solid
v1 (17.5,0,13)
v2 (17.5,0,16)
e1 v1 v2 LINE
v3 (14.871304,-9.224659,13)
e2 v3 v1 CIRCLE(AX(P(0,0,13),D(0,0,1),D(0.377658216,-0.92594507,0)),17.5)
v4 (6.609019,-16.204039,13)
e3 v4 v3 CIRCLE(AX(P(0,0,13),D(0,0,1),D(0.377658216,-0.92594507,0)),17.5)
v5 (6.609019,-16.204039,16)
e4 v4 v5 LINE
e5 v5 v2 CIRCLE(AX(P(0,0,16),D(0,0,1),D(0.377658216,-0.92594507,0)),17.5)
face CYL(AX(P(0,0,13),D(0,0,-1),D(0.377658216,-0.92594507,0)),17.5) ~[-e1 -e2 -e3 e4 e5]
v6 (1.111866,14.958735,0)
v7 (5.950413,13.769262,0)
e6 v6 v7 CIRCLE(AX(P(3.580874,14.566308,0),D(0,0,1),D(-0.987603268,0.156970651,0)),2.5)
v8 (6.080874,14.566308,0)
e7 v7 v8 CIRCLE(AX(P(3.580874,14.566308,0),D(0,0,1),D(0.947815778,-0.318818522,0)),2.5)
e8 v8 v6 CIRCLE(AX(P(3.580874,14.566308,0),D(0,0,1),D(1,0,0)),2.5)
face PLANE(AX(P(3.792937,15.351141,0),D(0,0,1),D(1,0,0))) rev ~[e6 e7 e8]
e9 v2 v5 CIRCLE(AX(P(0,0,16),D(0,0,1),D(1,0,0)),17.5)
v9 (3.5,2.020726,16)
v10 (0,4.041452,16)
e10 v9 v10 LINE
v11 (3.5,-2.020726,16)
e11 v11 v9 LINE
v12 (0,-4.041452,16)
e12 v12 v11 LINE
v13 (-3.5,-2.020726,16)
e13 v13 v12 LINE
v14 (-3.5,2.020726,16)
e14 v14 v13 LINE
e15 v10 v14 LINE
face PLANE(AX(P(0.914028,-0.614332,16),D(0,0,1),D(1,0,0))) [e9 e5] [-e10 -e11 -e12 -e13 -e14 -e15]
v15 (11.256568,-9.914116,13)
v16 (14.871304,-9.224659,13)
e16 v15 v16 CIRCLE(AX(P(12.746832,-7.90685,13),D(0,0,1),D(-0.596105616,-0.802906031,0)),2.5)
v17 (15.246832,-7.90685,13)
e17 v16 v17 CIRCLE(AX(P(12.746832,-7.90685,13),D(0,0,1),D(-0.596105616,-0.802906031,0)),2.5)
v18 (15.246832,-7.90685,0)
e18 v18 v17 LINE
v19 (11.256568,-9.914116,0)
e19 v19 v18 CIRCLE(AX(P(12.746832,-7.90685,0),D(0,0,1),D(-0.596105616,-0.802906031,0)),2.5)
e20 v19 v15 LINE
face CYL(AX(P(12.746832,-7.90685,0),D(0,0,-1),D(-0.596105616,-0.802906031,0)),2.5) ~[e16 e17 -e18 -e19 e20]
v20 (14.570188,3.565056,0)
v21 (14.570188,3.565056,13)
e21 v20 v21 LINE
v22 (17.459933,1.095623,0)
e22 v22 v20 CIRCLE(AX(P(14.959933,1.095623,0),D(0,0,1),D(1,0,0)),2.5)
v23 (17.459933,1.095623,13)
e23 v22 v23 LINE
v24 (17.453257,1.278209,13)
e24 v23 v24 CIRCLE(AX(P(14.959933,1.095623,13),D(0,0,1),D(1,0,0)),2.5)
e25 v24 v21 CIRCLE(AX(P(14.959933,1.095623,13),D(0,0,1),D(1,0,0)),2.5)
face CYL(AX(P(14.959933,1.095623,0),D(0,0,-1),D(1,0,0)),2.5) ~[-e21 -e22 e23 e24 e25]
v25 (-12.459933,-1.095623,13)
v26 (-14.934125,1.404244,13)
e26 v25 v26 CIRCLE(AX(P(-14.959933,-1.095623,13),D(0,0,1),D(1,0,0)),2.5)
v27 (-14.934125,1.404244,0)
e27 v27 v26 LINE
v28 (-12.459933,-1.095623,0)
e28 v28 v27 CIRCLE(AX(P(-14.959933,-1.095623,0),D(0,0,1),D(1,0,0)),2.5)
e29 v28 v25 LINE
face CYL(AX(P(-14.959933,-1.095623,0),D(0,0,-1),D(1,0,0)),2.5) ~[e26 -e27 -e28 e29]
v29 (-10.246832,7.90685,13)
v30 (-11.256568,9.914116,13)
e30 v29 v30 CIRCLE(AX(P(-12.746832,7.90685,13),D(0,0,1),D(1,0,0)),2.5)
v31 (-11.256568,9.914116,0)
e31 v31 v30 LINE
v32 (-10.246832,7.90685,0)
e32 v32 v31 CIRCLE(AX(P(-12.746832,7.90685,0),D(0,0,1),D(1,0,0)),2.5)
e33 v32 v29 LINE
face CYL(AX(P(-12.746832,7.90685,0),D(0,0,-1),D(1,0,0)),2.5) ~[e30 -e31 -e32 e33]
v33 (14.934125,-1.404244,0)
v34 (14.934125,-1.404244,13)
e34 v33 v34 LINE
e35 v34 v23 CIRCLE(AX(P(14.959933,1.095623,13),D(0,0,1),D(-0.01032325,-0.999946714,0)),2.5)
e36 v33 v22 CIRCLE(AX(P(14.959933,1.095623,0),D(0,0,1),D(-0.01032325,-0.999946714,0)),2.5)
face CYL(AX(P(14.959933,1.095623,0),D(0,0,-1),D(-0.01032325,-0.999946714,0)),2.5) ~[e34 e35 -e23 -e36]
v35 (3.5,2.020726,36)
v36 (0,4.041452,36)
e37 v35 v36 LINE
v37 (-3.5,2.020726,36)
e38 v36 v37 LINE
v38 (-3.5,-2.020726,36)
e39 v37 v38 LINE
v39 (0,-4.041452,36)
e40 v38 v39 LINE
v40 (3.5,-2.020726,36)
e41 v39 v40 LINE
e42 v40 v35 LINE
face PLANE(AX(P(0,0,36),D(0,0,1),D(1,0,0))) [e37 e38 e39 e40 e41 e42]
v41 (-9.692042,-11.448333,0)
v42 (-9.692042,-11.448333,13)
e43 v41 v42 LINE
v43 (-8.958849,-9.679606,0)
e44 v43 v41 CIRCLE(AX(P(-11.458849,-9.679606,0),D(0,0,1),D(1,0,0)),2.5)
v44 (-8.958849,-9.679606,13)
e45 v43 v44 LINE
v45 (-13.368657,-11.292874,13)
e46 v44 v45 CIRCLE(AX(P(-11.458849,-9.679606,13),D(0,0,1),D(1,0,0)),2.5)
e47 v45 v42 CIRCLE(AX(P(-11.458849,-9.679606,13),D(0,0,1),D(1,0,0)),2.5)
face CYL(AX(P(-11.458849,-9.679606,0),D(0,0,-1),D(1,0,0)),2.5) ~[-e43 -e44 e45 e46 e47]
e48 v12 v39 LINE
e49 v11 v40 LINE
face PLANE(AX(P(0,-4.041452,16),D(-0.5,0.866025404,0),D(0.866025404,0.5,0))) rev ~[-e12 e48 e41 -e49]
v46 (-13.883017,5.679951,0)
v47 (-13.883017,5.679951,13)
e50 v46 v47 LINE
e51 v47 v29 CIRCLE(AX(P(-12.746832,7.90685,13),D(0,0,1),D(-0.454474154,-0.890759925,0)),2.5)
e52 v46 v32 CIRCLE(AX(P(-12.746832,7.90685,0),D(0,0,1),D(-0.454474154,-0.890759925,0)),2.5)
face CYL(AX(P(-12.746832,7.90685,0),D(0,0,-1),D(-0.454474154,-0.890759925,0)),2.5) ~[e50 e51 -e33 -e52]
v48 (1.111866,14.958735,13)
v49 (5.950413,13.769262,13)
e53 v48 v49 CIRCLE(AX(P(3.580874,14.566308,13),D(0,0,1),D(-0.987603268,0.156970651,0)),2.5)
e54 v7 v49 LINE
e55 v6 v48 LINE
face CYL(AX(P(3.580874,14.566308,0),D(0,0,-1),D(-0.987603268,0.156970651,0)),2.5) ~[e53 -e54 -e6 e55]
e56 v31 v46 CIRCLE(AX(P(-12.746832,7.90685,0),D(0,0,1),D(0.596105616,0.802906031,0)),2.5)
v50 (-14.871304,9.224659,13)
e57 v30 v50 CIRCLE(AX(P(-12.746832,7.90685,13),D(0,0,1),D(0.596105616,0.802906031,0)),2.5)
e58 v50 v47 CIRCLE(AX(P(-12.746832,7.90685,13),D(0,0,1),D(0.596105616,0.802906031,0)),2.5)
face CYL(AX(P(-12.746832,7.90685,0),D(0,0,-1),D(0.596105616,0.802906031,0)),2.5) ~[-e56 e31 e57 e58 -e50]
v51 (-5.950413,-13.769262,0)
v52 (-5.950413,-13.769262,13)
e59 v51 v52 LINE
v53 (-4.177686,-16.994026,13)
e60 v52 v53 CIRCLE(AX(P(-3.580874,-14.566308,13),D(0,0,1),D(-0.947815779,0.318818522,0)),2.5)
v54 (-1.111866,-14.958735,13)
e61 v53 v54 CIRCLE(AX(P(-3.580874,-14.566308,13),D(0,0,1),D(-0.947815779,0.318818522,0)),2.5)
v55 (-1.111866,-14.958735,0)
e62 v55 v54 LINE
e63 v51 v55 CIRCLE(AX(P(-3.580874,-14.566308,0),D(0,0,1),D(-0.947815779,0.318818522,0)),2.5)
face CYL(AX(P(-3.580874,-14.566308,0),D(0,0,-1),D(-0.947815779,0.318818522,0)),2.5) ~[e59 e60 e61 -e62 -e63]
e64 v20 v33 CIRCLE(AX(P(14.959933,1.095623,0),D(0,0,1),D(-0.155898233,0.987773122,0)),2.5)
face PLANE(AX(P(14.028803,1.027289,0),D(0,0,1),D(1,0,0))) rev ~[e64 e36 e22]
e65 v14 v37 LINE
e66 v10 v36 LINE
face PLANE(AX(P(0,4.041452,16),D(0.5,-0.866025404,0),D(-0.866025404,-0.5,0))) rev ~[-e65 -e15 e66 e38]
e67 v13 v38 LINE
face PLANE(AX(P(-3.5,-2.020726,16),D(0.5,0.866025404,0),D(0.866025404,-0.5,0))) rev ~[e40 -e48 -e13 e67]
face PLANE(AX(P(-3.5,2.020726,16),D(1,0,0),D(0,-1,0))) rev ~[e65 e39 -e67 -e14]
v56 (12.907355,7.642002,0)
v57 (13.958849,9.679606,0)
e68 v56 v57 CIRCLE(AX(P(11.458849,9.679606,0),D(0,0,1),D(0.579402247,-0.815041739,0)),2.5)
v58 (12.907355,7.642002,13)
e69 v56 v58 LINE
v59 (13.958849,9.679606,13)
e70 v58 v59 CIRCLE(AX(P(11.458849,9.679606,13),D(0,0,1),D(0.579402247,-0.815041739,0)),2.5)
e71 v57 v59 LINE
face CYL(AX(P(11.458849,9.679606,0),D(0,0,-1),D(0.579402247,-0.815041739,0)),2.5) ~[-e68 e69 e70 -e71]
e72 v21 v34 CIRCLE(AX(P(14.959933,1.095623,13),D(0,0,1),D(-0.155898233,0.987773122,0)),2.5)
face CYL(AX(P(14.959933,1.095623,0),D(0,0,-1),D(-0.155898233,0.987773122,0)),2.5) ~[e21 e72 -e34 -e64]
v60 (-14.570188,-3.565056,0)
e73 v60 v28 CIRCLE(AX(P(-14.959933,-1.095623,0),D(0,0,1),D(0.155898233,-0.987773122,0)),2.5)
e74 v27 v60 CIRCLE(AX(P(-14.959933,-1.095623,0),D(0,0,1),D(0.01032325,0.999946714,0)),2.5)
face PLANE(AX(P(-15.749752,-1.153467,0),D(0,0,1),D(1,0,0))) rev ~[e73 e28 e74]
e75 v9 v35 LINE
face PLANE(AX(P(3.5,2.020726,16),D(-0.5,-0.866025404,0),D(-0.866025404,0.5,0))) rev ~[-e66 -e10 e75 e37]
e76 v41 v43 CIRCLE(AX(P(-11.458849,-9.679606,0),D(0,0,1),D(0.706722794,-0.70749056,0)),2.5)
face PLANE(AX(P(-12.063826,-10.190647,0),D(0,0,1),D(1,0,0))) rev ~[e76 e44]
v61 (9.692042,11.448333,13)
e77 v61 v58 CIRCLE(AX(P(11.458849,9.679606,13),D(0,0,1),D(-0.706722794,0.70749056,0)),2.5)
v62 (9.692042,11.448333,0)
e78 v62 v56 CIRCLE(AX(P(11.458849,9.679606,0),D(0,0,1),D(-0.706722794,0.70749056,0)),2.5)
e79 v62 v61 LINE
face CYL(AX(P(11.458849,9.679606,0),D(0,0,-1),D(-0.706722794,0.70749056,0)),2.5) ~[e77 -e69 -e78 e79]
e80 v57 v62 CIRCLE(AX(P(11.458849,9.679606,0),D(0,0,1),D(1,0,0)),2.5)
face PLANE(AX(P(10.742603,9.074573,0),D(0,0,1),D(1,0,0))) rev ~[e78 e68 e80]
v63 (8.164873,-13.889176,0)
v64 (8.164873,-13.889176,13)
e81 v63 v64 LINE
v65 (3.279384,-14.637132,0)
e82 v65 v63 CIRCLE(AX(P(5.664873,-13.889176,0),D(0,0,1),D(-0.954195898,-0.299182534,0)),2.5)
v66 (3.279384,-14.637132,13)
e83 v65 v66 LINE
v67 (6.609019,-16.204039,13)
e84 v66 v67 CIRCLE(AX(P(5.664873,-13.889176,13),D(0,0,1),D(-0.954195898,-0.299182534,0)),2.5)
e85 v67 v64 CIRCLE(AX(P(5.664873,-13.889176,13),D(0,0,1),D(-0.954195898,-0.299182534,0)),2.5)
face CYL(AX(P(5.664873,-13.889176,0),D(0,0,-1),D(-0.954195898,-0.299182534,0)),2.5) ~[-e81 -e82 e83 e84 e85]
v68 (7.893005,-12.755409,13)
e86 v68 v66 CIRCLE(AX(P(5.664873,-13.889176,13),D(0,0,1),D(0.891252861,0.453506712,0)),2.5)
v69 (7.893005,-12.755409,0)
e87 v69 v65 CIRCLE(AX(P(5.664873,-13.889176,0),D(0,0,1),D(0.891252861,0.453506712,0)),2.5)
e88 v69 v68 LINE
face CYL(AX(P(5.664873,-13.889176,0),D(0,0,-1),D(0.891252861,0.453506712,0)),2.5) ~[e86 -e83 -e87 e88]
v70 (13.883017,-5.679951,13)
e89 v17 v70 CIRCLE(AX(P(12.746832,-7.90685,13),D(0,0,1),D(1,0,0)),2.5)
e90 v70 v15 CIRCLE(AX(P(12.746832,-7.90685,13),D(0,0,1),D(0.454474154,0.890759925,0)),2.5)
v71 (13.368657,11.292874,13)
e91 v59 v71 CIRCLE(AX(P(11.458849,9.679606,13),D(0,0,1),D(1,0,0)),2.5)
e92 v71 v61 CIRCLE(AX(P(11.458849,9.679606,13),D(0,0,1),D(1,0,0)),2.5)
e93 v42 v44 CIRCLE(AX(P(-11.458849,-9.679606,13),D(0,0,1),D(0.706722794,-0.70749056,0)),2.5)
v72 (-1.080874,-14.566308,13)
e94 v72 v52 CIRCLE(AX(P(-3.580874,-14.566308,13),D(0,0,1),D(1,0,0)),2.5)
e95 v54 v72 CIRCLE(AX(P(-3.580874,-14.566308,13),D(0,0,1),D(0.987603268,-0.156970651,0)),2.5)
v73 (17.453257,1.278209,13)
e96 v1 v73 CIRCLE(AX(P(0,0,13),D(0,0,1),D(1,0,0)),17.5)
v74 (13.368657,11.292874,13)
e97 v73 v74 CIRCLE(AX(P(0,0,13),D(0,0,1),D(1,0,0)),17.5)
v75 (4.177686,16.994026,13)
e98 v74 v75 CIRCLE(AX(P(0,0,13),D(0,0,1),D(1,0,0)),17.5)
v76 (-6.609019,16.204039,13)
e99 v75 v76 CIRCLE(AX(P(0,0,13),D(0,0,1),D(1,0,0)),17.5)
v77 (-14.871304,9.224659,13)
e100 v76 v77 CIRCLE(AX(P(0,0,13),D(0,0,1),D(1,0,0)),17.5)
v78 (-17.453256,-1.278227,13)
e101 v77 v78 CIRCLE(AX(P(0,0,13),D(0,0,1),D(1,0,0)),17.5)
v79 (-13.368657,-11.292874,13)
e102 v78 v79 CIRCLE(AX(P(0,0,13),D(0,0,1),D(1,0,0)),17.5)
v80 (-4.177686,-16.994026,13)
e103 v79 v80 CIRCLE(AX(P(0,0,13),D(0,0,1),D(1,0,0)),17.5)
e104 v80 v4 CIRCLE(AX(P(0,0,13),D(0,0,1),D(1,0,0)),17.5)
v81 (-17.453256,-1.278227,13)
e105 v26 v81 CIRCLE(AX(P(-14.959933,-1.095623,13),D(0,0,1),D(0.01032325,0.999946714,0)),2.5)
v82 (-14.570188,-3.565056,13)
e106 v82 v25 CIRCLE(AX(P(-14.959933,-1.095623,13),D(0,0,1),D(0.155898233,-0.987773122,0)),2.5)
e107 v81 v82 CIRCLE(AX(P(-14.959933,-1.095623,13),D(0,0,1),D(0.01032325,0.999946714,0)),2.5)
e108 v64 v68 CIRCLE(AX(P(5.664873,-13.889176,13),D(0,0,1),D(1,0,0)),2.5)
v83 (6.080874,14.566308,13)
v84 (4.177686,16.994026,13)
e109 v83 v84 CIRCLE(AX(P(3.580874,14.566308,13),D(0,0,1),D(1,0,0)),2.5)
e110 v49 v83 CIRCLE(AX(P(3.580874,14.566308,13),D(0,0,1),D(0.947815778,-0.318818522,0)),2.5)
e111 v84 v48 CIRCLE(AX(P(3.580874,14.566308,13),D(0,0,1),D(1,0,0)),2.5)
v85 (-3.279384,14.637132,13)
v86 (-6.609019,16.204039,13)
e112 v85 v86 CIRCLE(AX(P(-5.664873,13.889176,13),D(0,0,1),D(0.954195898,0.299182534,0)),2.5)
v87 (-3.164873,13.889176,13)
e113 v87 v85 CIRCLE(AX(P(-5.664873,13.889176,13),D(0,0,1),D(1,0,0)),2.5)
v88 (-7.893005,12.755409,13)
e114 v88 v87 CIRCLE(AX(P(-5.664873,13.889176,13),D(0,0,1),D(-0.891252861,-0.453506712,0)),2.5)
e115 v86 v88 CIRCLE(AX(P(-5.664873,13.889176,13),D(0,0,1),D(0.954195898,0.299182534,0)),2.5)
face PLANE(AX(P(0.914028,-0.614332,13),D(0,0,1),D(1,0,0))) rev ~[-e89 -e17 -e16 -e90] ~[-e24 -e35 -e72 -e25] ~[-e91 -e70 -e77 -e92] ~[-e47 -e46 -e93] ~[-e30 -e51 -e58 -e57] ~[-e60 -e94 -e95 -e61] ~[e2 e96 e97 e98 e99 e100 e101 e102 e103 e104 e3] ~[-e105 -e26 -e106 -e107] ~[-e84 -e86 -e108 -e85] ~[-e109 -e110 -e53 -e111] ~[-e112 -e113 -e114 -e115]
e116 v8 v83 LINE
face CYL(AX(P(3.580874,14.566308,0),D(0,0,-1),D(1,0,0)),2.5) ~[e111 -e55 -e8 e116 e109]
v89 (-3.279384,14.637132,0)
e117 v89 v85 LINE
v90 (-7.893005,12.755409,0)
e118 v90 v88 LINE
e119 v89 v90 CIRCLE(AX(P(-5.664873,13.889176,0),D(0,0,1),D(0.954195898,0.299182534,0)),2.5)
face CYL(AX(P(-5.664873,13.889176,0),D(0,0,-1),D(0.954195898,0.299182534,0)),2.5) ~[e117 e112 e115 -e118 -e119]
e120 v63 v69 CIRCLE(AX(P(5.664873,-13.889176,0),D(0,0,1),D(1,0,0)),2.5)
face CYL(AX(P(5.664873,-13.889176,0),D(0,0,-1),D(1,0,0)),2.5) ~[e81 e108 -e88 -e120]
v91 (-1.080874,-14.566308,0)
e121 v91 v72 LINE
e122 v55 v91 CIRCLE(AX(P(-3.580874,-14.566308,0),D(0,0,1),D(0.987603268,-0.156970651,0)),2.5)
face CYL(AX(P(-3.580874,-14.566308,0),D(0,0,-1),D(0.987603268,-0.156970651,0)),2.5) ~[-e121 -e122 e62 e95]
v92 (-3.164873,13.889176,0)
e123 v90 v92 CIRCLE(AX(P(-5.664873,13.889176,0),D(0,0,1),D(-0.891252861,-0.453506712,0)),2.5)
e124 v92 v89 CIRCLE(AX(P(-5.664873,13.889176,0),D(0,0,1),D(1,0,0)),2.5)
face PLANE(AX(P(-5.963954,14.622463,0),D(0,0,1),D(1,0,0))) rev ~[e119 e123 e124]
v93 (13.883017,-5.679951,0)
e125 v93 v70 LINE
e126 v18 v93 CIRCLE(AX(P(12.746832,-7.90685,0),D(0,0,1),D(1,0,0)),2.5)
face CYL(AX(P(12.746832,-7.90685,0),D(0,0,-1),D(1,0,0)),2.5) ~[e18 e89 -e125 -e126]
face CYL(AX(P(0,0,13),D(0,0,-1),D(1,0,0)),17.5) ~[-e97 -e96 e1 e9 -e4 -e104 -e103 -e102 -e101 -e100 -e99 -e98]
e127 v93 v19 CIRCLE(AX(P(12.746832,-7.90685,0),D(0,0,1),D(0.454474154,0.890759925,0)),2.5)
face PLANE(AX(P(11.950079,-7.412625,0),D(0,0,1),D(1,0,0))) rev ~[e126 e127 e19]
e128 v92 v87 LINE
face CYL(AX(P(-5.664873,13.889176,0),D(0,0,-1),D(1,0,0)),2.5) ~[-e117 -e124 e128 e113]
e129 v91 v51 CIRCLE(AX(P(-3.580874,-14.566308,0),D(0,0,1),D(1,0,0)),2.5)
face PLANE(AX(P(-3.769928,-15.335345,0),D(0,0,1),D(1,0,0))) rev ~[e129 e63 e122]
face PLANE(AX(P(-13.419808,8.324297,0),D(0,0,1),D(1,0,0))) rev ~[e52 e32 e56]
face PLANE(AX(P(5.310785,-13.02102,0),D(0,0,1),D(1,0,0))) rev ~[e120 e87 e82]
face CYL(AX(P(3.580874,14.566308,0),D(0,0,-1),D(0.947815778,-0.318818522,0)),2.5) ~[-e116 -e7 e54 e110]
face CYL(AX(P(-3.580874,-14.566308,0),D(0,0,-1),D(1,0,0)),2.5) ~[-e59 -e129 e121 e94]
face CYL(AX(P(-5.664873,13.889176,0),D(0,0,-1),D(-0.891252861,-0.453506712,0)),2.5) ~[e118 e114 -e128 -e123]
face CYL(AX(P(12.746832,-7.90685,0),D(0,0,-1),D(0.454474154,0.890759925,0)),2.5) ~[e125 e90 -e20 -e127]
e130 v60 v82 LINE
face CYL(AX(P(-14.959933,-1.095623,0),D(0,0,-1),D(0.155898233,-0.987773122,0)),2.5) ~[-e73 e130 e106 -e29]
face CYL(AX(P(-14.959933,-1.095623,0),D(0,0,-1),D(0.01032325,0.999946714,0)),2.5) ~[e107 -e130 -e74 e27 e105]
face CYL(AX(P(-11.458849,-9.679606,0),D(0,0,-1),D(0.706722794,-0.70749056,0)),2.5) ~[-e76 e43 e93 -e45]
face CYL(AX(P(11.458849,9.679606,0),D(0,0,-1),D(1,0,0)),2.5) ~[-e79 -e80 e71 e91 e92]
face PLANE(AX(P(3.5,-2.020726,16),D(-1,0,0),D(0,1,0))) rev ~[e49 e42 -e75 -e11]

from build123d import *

# Parameters (mm, degrees)
F1_DEPTH = 13
F3_DEPTH = 3
F5_DEPTH = 20


with BuildPart() as f1:
    # F0 (on Top) → F1 (new body)
    with BuildSketch(Plane.XY):
        with BuildLine():
            ThreePointArc((-7.8930054645, 12.7554092344), (-5.664873312, 13.8891760144), (-3.2793835676, 14.6371323495))
            ThreePointArc((-3.2793835676, 14.6371323495), (-6.609018864, 16.2040386834), (-7.8930054645, 12.7554092344))
        make_face()
        with BuildLine():
            ThreePointArc((-3.164873312, 13.8891760144), (-3.1936666876, 14.2675116054), (-3.2793835676, 14.6371323495))
            ThreePointArc((-3.2793835676, 14.6371323495), (-5.664873312, 13.8891760144), (-7.8930054645, 12.7554092344))
            ThreePointArc((-7.8930054645, 12.7554092344), (-5.0819197895, 11.4580928832), (-3.164873312, 13.8891760144))
        make_face()
    extrude(amount=F1_DEPTH)



with BuildPart() as f1b:
    # F0 (on Top) → F1, piece 2 (new body)
    with BuildSketch(Plane.XY):
        with BuildLine():
            ThreePointArc((1.1118658775, 14.9587350491), (3.5808740473, 14.5663084224), (5.9504134936, 13.7692621173))
            ThreePointArc((5.9504134936, 13.7692621173), (6.0480433378, 14.1624821081), (6.0808740473, 14.5663084224))
            ThreePointArc((6.0808740473, 14.5663084224), (3.7776983033, 17.0585484214), (1.1118658775, 14.9587350491))
        make_face()
        with BuildLine():
            ThreePointArc((1.1118658775, 14.9587350491), (2.9840617061, 12.138590352), (5.9504134936, 13.7692621173))
            ThreePointArc((5.9504134936, 13.7692621173), (3.5808740473, 14.5663084224), (1.1118658775, 14.9587350491))
        make_face()
    extrude(amount=F1_DEPTH)


with BuildPart() as f1c:
    # F0 (on Top) → F1, piece 3 (new body)
    with BuildSketch(Plane.XY):
        with BuildLine():
            ThreePointArc((9.6920422452, 11.4483325038), (9.549041025, 8.0663384198), (12.9073548474, 7.6420017563))
            ThreePointArc((12.9073548474, 7.6420017563), (11.45884923, 9.6796061037), (9.6920422452, 11.4483325038))
        make_face()
        with BuildLine():
            ThreePointArc((9.6920422452, 11.4483325038), (11.45884923, 9.6796061037), (12.9073548474, 7.6420017563))
            ThreePointArc((12.9073548474, 7.6420017563), (13.6804774667, 8.5331472173), (13.95884923, 9.6796061037))
            ThreePointArc((13.95884923, 9.6796061037), (12.416184735, 11.9890451549), (9.6920422452, 11.4483325038))
        make_face()
    extrude(amount=F1_DEPTH)


with BuildPart() as f1d:
    # F0 (on Top) → F1, piece 4 (new body)
    with BuildSketch(Plane.XY):
        with BuildLine():
            ThreePointArc((14.9341253543, -1.4042435335), (14.9835222881, -0.7028939056), (15, 0))
            ThreePointArc((15, 0), (14.8921593202, 1.7954360982), (14.5701878956, 3.5650560565))
            ThreePointArc((14.5701878956, 3.5650560565), (12.4666112324, 0.9130193759), (14.9341253543, -1.4042435335))
        make_face()
        with BuildLine():
            ThreePointArc((14.5701878956, 3.5650560565), (14.8921593202, 1.7954360982), (15, 0))
            ThreePointArc((15, 0), (14.9835222881, -0.7028939056), (14.9341253543, -1.4042435335))
            ThreePointArc((14.9341253543, -1.4042435335), (16.7185522108, -0.6812448238), (17.4599334789, 1.0956232511))
            ThreePointArc((17.4599334789, 1.0956232511), (16.5840695634, 2.9961973694), (14.5701878956, 3.5650560565))
        make_face()
    extrude(amount=F1_DEPTH)


with BuildPart() as f1e:
    # F0 (on Top) → F1, piece 5 (new body)
    with BuildSketch(Plane.XY):
        with BuildLine():
            ThreePointArc((11.2565675682, -9.914115522), (12.7468316082, -7.9068504446), (13.8830169924, -5.6799506326))
            ThreePointArc((13.8830169924, -5.6799506326), (10.6223596735, -6.5890420372), (11.2565675682, -9.914115522))
        make_face()
        with BuildLine():
            ThreePointArc((15.2468316082, -7.9068504446), (14.8787865163, -6.601182696), (13.8830169924, -5.6799506326))
            ThreePointArc((13.8830169924, -5.6799506326), (12.7468316082, -7.9068504446), (11.2565675682, -9.914115522))
            ThreePointArc((11.2565675682, -9.914115522), (13.870294981, -10.1401954806), (15.2468316082, -7.9068504446))
        make_face()
    extrude(amount=F1_DEPTH)


with BuildPart() as f1f:
    # F0 (on Top) → F1, piece 6 (new body)
    with BuildSketch(Plane.XY):
        with BuildLine():
            ThreePointArc((3.2793835676, -14.6371323495), (5.664873312, -13.8891760144), (7.8930054645, -12.7554092344))
            ThreePointArc((7.8930054645, -12.7554092344), (4.72072776, -11.5743133453), (3.2793835676, -14.6371323495))
        make_face()
        with BuildLine():
            ThreePointArc((8.164873312, -13.8891760144), (8.0959564432, -13.3062224918), (7.8930054645, -12.7554092344))
            ThreePointArc((7.8930054645, -12.7554092344), (5.664873312, -13.8891760144), (3.2793835676, -14.6371323495))
            ThreePointArc((3.2793835676, -14.6371323495), (6.0432089031, -16.3603826388), (8.164873312, -13.8891760144))
        make_face()
    extrude(amount=F1_DEPTH)


with BuildPart() as f1g:
    # F0 (on Top) → F1, piece 7 (new body)
    with BuildSketch(Plane.XY):
        with BuildLine():
            ThreePointArc((-5.9504134936, -13.7692621173), (-4.1776863886, -16.9940264928), (-1.1118658775, -14.9587350491))
            ThreePointArc((-1.1118658775, -14.9587350491), (-3.5808740473, -14.5663084224), (-5.9504134936, -13.7692621173))
        make_face()
        with BuildLine():
            ThreePointArc((-5.9504134936, -13.7692621173), (-3.5808740473, -14.5663084224), (-1.1118658775, -14.9587350491))
            ThreePointArc((-1.1118658775, -14.9587350491), (-1.0886340484, -14.7631326784), (-1.0808740473, -14.5663084224))
            ThreePointArc((-1.0808740473, -14.5663084224), (-3.177047733, -12.099139132), (-5.9504134936, -13.7692621173))
        make_face()
    extrude(amount=F1_DEPTH)


with BuildPart() as f1h:
    # F0 (on Top) → F1, piece 8 (new body)
    with BuildSketch(Plane.XY):
        with BuildLine():
            ThreePointArc((-12.9073548474, -7.6420017563), (-13.3686574351, -11.2928737877), (-9.6920422452, -11.4483325038))
            ThreePointArc((-9.6920422452, -11.4483325038), (-11.45884923, -9.6796061037), (-12.9073548474, -7.6420017563))
        make_face()
        with BuildLine():
            ThreePointArc((-12.9073548474, -7.6420017563), (-11.45884923, -9.6796061037), (-9.6920422452, -11.4483325038))
            ThreePointArc((-9.6920422452, -11.4483325038), (-9.1494101789, -10.6369416086), (-8.95884923, -9.6796061037))
            ThreePointArc((-8.95884923, -9.6796061037), (-10.3123903436, -7.4579778671), (-12.9073548474, -7.6420017563))
        make_face()
    extrude(amount=F1_DEPTH)


with BuildPart() as f1i:
    # F0 (on Top) → F1, piece 9 (new body)
    with BuildSketch(Plane.XY):
        with BuildLine():
            ThreePointArc((-14.5701878956, -3.5650560565), (-14.9599334789, -1.0956232511), (-14.9341253543, 1.4042435335))
            ThreePointArc((-14.9341253543, 1.4042435335), (-17.4532557253, -1.2782271263), (-14.5701878956, -3.5650560565))
        make_face()
        with BuildLine():
            ThreePointArc((-12.4599334789, -1.0956232511), (-13.1830654039, 0.6629954809), (-14.9341253543, 1.4042435335))
            ThreePointArc((-14.9341253543, 1.4042435335), (-14.9599334789, -1.0956232511), (-14.5701878956, -3.5650560565))
            ThreePointArc((-14.5701878956, -3.5650560565), (-13.0593593606, -2.7197593356), (-12.4599334789, -1.0956232511))
        make_face()
    extrude(amount=F1_DEPTH)


with BuildPart() as f1j:
    # F0 (on Top) → F1, piece 10 (new body)
    with BuildSketch(Plane.XY):
        with BuildLine():
            ThreePointArc((-13.8830169924, 5.6799506326), (-12.7468316082, 7.9068504446), (-11.2565675682, 9.914115522))
            ThreePointArc((-11.2565675682, 9.914115522), (-14.8713035429, 9.224658852), (-13.8830169924, 5.6799506326))
        make_face()
        with BuildLine():
            ThreePointArc((-10.2468316082, 7.9068504446), (-10.5134865721, 9.0303138174), (-11.2565675682, 9.914115522))
            ThreePointArc((-11.2565675682, 9.914115522), (-12.7468316082, 7.9068504446), (-13.8830169924, 5.6799506326))
            ThreePointArc((-13.8830169924, 5.6799506326), (-11.4411638596, 5.7748955365), (-10.2468316082, 7.9068504446))
        make_face()
    extrude(amount=F1_DEPTH)


with BuildPart() as f1_1:
    add(f1.part)

    add(f1b.part)  # F3 merges F1b

    add(f1c.part)  # F3 merges F1c

    add(f1d.part)  # F3 merges F1d

    add(f1e.part)  # F3 merges F1e

    add(f1f.part)  # F3 merges F1f

    add(f1g.part)  # F3 merges F1g

    add(f1h.part)  # F3 merges F1h

    add(f1i.part)  # F3 merges F1i

    add(f1j.part)  # F3 merges F1j
    # F2 (on face) → F3 (join)
    with BuildSketch(Plane.XY.offset(13)):
        with BuildLine():
            ThreePointArc((6.6090187797, -16.2040387179), (14.5242526253, -9.7619714032), (17.5, 0))
            ThreePointArc((17.5, 0), (-14.5242526253, 9.7619714032), (6.6090187797, -16.2040387179))
        make_face()
        with BuildLine():
            ThreePointArc((8.164873312, -13.8891760144), (7.7397665224, -15.2837433901), (6.6090187797, -16.2040387179))
            ThreePointArc((6.6090187797, -16.2040387179), (3.5899801016, -12.4946086387), (8.164873312, -13.8891760144))
        make_face(mode=Mode.SUBTRACT)
        with BuildLine():
            ThreePointArc((8.164873312, -13.8891760144), (3.5899801016, -12.4946086387), (6.6090187797, -16.2040387179))
            ThreePointArc((6.6090187797, -16.2040387179), (7.7397665224, -15.2837433901), (8.164873312, -13.8891760144))
        make_face()
    extrude(amount=F3_DEPTH)

    # F4 (on face) → F5 (join)
    with BuildSketch(Plane.XY.offset(16)):
        Polygon((3.5, -2.0207259422), (3.5, 2.0207259422), (0, 4.0414518843), (-3.5, 2.0207259422), (-3.5, -2.0207259422), (0, -4.0414518843), align=None)
    extrude(amount=F5_DEPTH)


solid = f1_1.part
